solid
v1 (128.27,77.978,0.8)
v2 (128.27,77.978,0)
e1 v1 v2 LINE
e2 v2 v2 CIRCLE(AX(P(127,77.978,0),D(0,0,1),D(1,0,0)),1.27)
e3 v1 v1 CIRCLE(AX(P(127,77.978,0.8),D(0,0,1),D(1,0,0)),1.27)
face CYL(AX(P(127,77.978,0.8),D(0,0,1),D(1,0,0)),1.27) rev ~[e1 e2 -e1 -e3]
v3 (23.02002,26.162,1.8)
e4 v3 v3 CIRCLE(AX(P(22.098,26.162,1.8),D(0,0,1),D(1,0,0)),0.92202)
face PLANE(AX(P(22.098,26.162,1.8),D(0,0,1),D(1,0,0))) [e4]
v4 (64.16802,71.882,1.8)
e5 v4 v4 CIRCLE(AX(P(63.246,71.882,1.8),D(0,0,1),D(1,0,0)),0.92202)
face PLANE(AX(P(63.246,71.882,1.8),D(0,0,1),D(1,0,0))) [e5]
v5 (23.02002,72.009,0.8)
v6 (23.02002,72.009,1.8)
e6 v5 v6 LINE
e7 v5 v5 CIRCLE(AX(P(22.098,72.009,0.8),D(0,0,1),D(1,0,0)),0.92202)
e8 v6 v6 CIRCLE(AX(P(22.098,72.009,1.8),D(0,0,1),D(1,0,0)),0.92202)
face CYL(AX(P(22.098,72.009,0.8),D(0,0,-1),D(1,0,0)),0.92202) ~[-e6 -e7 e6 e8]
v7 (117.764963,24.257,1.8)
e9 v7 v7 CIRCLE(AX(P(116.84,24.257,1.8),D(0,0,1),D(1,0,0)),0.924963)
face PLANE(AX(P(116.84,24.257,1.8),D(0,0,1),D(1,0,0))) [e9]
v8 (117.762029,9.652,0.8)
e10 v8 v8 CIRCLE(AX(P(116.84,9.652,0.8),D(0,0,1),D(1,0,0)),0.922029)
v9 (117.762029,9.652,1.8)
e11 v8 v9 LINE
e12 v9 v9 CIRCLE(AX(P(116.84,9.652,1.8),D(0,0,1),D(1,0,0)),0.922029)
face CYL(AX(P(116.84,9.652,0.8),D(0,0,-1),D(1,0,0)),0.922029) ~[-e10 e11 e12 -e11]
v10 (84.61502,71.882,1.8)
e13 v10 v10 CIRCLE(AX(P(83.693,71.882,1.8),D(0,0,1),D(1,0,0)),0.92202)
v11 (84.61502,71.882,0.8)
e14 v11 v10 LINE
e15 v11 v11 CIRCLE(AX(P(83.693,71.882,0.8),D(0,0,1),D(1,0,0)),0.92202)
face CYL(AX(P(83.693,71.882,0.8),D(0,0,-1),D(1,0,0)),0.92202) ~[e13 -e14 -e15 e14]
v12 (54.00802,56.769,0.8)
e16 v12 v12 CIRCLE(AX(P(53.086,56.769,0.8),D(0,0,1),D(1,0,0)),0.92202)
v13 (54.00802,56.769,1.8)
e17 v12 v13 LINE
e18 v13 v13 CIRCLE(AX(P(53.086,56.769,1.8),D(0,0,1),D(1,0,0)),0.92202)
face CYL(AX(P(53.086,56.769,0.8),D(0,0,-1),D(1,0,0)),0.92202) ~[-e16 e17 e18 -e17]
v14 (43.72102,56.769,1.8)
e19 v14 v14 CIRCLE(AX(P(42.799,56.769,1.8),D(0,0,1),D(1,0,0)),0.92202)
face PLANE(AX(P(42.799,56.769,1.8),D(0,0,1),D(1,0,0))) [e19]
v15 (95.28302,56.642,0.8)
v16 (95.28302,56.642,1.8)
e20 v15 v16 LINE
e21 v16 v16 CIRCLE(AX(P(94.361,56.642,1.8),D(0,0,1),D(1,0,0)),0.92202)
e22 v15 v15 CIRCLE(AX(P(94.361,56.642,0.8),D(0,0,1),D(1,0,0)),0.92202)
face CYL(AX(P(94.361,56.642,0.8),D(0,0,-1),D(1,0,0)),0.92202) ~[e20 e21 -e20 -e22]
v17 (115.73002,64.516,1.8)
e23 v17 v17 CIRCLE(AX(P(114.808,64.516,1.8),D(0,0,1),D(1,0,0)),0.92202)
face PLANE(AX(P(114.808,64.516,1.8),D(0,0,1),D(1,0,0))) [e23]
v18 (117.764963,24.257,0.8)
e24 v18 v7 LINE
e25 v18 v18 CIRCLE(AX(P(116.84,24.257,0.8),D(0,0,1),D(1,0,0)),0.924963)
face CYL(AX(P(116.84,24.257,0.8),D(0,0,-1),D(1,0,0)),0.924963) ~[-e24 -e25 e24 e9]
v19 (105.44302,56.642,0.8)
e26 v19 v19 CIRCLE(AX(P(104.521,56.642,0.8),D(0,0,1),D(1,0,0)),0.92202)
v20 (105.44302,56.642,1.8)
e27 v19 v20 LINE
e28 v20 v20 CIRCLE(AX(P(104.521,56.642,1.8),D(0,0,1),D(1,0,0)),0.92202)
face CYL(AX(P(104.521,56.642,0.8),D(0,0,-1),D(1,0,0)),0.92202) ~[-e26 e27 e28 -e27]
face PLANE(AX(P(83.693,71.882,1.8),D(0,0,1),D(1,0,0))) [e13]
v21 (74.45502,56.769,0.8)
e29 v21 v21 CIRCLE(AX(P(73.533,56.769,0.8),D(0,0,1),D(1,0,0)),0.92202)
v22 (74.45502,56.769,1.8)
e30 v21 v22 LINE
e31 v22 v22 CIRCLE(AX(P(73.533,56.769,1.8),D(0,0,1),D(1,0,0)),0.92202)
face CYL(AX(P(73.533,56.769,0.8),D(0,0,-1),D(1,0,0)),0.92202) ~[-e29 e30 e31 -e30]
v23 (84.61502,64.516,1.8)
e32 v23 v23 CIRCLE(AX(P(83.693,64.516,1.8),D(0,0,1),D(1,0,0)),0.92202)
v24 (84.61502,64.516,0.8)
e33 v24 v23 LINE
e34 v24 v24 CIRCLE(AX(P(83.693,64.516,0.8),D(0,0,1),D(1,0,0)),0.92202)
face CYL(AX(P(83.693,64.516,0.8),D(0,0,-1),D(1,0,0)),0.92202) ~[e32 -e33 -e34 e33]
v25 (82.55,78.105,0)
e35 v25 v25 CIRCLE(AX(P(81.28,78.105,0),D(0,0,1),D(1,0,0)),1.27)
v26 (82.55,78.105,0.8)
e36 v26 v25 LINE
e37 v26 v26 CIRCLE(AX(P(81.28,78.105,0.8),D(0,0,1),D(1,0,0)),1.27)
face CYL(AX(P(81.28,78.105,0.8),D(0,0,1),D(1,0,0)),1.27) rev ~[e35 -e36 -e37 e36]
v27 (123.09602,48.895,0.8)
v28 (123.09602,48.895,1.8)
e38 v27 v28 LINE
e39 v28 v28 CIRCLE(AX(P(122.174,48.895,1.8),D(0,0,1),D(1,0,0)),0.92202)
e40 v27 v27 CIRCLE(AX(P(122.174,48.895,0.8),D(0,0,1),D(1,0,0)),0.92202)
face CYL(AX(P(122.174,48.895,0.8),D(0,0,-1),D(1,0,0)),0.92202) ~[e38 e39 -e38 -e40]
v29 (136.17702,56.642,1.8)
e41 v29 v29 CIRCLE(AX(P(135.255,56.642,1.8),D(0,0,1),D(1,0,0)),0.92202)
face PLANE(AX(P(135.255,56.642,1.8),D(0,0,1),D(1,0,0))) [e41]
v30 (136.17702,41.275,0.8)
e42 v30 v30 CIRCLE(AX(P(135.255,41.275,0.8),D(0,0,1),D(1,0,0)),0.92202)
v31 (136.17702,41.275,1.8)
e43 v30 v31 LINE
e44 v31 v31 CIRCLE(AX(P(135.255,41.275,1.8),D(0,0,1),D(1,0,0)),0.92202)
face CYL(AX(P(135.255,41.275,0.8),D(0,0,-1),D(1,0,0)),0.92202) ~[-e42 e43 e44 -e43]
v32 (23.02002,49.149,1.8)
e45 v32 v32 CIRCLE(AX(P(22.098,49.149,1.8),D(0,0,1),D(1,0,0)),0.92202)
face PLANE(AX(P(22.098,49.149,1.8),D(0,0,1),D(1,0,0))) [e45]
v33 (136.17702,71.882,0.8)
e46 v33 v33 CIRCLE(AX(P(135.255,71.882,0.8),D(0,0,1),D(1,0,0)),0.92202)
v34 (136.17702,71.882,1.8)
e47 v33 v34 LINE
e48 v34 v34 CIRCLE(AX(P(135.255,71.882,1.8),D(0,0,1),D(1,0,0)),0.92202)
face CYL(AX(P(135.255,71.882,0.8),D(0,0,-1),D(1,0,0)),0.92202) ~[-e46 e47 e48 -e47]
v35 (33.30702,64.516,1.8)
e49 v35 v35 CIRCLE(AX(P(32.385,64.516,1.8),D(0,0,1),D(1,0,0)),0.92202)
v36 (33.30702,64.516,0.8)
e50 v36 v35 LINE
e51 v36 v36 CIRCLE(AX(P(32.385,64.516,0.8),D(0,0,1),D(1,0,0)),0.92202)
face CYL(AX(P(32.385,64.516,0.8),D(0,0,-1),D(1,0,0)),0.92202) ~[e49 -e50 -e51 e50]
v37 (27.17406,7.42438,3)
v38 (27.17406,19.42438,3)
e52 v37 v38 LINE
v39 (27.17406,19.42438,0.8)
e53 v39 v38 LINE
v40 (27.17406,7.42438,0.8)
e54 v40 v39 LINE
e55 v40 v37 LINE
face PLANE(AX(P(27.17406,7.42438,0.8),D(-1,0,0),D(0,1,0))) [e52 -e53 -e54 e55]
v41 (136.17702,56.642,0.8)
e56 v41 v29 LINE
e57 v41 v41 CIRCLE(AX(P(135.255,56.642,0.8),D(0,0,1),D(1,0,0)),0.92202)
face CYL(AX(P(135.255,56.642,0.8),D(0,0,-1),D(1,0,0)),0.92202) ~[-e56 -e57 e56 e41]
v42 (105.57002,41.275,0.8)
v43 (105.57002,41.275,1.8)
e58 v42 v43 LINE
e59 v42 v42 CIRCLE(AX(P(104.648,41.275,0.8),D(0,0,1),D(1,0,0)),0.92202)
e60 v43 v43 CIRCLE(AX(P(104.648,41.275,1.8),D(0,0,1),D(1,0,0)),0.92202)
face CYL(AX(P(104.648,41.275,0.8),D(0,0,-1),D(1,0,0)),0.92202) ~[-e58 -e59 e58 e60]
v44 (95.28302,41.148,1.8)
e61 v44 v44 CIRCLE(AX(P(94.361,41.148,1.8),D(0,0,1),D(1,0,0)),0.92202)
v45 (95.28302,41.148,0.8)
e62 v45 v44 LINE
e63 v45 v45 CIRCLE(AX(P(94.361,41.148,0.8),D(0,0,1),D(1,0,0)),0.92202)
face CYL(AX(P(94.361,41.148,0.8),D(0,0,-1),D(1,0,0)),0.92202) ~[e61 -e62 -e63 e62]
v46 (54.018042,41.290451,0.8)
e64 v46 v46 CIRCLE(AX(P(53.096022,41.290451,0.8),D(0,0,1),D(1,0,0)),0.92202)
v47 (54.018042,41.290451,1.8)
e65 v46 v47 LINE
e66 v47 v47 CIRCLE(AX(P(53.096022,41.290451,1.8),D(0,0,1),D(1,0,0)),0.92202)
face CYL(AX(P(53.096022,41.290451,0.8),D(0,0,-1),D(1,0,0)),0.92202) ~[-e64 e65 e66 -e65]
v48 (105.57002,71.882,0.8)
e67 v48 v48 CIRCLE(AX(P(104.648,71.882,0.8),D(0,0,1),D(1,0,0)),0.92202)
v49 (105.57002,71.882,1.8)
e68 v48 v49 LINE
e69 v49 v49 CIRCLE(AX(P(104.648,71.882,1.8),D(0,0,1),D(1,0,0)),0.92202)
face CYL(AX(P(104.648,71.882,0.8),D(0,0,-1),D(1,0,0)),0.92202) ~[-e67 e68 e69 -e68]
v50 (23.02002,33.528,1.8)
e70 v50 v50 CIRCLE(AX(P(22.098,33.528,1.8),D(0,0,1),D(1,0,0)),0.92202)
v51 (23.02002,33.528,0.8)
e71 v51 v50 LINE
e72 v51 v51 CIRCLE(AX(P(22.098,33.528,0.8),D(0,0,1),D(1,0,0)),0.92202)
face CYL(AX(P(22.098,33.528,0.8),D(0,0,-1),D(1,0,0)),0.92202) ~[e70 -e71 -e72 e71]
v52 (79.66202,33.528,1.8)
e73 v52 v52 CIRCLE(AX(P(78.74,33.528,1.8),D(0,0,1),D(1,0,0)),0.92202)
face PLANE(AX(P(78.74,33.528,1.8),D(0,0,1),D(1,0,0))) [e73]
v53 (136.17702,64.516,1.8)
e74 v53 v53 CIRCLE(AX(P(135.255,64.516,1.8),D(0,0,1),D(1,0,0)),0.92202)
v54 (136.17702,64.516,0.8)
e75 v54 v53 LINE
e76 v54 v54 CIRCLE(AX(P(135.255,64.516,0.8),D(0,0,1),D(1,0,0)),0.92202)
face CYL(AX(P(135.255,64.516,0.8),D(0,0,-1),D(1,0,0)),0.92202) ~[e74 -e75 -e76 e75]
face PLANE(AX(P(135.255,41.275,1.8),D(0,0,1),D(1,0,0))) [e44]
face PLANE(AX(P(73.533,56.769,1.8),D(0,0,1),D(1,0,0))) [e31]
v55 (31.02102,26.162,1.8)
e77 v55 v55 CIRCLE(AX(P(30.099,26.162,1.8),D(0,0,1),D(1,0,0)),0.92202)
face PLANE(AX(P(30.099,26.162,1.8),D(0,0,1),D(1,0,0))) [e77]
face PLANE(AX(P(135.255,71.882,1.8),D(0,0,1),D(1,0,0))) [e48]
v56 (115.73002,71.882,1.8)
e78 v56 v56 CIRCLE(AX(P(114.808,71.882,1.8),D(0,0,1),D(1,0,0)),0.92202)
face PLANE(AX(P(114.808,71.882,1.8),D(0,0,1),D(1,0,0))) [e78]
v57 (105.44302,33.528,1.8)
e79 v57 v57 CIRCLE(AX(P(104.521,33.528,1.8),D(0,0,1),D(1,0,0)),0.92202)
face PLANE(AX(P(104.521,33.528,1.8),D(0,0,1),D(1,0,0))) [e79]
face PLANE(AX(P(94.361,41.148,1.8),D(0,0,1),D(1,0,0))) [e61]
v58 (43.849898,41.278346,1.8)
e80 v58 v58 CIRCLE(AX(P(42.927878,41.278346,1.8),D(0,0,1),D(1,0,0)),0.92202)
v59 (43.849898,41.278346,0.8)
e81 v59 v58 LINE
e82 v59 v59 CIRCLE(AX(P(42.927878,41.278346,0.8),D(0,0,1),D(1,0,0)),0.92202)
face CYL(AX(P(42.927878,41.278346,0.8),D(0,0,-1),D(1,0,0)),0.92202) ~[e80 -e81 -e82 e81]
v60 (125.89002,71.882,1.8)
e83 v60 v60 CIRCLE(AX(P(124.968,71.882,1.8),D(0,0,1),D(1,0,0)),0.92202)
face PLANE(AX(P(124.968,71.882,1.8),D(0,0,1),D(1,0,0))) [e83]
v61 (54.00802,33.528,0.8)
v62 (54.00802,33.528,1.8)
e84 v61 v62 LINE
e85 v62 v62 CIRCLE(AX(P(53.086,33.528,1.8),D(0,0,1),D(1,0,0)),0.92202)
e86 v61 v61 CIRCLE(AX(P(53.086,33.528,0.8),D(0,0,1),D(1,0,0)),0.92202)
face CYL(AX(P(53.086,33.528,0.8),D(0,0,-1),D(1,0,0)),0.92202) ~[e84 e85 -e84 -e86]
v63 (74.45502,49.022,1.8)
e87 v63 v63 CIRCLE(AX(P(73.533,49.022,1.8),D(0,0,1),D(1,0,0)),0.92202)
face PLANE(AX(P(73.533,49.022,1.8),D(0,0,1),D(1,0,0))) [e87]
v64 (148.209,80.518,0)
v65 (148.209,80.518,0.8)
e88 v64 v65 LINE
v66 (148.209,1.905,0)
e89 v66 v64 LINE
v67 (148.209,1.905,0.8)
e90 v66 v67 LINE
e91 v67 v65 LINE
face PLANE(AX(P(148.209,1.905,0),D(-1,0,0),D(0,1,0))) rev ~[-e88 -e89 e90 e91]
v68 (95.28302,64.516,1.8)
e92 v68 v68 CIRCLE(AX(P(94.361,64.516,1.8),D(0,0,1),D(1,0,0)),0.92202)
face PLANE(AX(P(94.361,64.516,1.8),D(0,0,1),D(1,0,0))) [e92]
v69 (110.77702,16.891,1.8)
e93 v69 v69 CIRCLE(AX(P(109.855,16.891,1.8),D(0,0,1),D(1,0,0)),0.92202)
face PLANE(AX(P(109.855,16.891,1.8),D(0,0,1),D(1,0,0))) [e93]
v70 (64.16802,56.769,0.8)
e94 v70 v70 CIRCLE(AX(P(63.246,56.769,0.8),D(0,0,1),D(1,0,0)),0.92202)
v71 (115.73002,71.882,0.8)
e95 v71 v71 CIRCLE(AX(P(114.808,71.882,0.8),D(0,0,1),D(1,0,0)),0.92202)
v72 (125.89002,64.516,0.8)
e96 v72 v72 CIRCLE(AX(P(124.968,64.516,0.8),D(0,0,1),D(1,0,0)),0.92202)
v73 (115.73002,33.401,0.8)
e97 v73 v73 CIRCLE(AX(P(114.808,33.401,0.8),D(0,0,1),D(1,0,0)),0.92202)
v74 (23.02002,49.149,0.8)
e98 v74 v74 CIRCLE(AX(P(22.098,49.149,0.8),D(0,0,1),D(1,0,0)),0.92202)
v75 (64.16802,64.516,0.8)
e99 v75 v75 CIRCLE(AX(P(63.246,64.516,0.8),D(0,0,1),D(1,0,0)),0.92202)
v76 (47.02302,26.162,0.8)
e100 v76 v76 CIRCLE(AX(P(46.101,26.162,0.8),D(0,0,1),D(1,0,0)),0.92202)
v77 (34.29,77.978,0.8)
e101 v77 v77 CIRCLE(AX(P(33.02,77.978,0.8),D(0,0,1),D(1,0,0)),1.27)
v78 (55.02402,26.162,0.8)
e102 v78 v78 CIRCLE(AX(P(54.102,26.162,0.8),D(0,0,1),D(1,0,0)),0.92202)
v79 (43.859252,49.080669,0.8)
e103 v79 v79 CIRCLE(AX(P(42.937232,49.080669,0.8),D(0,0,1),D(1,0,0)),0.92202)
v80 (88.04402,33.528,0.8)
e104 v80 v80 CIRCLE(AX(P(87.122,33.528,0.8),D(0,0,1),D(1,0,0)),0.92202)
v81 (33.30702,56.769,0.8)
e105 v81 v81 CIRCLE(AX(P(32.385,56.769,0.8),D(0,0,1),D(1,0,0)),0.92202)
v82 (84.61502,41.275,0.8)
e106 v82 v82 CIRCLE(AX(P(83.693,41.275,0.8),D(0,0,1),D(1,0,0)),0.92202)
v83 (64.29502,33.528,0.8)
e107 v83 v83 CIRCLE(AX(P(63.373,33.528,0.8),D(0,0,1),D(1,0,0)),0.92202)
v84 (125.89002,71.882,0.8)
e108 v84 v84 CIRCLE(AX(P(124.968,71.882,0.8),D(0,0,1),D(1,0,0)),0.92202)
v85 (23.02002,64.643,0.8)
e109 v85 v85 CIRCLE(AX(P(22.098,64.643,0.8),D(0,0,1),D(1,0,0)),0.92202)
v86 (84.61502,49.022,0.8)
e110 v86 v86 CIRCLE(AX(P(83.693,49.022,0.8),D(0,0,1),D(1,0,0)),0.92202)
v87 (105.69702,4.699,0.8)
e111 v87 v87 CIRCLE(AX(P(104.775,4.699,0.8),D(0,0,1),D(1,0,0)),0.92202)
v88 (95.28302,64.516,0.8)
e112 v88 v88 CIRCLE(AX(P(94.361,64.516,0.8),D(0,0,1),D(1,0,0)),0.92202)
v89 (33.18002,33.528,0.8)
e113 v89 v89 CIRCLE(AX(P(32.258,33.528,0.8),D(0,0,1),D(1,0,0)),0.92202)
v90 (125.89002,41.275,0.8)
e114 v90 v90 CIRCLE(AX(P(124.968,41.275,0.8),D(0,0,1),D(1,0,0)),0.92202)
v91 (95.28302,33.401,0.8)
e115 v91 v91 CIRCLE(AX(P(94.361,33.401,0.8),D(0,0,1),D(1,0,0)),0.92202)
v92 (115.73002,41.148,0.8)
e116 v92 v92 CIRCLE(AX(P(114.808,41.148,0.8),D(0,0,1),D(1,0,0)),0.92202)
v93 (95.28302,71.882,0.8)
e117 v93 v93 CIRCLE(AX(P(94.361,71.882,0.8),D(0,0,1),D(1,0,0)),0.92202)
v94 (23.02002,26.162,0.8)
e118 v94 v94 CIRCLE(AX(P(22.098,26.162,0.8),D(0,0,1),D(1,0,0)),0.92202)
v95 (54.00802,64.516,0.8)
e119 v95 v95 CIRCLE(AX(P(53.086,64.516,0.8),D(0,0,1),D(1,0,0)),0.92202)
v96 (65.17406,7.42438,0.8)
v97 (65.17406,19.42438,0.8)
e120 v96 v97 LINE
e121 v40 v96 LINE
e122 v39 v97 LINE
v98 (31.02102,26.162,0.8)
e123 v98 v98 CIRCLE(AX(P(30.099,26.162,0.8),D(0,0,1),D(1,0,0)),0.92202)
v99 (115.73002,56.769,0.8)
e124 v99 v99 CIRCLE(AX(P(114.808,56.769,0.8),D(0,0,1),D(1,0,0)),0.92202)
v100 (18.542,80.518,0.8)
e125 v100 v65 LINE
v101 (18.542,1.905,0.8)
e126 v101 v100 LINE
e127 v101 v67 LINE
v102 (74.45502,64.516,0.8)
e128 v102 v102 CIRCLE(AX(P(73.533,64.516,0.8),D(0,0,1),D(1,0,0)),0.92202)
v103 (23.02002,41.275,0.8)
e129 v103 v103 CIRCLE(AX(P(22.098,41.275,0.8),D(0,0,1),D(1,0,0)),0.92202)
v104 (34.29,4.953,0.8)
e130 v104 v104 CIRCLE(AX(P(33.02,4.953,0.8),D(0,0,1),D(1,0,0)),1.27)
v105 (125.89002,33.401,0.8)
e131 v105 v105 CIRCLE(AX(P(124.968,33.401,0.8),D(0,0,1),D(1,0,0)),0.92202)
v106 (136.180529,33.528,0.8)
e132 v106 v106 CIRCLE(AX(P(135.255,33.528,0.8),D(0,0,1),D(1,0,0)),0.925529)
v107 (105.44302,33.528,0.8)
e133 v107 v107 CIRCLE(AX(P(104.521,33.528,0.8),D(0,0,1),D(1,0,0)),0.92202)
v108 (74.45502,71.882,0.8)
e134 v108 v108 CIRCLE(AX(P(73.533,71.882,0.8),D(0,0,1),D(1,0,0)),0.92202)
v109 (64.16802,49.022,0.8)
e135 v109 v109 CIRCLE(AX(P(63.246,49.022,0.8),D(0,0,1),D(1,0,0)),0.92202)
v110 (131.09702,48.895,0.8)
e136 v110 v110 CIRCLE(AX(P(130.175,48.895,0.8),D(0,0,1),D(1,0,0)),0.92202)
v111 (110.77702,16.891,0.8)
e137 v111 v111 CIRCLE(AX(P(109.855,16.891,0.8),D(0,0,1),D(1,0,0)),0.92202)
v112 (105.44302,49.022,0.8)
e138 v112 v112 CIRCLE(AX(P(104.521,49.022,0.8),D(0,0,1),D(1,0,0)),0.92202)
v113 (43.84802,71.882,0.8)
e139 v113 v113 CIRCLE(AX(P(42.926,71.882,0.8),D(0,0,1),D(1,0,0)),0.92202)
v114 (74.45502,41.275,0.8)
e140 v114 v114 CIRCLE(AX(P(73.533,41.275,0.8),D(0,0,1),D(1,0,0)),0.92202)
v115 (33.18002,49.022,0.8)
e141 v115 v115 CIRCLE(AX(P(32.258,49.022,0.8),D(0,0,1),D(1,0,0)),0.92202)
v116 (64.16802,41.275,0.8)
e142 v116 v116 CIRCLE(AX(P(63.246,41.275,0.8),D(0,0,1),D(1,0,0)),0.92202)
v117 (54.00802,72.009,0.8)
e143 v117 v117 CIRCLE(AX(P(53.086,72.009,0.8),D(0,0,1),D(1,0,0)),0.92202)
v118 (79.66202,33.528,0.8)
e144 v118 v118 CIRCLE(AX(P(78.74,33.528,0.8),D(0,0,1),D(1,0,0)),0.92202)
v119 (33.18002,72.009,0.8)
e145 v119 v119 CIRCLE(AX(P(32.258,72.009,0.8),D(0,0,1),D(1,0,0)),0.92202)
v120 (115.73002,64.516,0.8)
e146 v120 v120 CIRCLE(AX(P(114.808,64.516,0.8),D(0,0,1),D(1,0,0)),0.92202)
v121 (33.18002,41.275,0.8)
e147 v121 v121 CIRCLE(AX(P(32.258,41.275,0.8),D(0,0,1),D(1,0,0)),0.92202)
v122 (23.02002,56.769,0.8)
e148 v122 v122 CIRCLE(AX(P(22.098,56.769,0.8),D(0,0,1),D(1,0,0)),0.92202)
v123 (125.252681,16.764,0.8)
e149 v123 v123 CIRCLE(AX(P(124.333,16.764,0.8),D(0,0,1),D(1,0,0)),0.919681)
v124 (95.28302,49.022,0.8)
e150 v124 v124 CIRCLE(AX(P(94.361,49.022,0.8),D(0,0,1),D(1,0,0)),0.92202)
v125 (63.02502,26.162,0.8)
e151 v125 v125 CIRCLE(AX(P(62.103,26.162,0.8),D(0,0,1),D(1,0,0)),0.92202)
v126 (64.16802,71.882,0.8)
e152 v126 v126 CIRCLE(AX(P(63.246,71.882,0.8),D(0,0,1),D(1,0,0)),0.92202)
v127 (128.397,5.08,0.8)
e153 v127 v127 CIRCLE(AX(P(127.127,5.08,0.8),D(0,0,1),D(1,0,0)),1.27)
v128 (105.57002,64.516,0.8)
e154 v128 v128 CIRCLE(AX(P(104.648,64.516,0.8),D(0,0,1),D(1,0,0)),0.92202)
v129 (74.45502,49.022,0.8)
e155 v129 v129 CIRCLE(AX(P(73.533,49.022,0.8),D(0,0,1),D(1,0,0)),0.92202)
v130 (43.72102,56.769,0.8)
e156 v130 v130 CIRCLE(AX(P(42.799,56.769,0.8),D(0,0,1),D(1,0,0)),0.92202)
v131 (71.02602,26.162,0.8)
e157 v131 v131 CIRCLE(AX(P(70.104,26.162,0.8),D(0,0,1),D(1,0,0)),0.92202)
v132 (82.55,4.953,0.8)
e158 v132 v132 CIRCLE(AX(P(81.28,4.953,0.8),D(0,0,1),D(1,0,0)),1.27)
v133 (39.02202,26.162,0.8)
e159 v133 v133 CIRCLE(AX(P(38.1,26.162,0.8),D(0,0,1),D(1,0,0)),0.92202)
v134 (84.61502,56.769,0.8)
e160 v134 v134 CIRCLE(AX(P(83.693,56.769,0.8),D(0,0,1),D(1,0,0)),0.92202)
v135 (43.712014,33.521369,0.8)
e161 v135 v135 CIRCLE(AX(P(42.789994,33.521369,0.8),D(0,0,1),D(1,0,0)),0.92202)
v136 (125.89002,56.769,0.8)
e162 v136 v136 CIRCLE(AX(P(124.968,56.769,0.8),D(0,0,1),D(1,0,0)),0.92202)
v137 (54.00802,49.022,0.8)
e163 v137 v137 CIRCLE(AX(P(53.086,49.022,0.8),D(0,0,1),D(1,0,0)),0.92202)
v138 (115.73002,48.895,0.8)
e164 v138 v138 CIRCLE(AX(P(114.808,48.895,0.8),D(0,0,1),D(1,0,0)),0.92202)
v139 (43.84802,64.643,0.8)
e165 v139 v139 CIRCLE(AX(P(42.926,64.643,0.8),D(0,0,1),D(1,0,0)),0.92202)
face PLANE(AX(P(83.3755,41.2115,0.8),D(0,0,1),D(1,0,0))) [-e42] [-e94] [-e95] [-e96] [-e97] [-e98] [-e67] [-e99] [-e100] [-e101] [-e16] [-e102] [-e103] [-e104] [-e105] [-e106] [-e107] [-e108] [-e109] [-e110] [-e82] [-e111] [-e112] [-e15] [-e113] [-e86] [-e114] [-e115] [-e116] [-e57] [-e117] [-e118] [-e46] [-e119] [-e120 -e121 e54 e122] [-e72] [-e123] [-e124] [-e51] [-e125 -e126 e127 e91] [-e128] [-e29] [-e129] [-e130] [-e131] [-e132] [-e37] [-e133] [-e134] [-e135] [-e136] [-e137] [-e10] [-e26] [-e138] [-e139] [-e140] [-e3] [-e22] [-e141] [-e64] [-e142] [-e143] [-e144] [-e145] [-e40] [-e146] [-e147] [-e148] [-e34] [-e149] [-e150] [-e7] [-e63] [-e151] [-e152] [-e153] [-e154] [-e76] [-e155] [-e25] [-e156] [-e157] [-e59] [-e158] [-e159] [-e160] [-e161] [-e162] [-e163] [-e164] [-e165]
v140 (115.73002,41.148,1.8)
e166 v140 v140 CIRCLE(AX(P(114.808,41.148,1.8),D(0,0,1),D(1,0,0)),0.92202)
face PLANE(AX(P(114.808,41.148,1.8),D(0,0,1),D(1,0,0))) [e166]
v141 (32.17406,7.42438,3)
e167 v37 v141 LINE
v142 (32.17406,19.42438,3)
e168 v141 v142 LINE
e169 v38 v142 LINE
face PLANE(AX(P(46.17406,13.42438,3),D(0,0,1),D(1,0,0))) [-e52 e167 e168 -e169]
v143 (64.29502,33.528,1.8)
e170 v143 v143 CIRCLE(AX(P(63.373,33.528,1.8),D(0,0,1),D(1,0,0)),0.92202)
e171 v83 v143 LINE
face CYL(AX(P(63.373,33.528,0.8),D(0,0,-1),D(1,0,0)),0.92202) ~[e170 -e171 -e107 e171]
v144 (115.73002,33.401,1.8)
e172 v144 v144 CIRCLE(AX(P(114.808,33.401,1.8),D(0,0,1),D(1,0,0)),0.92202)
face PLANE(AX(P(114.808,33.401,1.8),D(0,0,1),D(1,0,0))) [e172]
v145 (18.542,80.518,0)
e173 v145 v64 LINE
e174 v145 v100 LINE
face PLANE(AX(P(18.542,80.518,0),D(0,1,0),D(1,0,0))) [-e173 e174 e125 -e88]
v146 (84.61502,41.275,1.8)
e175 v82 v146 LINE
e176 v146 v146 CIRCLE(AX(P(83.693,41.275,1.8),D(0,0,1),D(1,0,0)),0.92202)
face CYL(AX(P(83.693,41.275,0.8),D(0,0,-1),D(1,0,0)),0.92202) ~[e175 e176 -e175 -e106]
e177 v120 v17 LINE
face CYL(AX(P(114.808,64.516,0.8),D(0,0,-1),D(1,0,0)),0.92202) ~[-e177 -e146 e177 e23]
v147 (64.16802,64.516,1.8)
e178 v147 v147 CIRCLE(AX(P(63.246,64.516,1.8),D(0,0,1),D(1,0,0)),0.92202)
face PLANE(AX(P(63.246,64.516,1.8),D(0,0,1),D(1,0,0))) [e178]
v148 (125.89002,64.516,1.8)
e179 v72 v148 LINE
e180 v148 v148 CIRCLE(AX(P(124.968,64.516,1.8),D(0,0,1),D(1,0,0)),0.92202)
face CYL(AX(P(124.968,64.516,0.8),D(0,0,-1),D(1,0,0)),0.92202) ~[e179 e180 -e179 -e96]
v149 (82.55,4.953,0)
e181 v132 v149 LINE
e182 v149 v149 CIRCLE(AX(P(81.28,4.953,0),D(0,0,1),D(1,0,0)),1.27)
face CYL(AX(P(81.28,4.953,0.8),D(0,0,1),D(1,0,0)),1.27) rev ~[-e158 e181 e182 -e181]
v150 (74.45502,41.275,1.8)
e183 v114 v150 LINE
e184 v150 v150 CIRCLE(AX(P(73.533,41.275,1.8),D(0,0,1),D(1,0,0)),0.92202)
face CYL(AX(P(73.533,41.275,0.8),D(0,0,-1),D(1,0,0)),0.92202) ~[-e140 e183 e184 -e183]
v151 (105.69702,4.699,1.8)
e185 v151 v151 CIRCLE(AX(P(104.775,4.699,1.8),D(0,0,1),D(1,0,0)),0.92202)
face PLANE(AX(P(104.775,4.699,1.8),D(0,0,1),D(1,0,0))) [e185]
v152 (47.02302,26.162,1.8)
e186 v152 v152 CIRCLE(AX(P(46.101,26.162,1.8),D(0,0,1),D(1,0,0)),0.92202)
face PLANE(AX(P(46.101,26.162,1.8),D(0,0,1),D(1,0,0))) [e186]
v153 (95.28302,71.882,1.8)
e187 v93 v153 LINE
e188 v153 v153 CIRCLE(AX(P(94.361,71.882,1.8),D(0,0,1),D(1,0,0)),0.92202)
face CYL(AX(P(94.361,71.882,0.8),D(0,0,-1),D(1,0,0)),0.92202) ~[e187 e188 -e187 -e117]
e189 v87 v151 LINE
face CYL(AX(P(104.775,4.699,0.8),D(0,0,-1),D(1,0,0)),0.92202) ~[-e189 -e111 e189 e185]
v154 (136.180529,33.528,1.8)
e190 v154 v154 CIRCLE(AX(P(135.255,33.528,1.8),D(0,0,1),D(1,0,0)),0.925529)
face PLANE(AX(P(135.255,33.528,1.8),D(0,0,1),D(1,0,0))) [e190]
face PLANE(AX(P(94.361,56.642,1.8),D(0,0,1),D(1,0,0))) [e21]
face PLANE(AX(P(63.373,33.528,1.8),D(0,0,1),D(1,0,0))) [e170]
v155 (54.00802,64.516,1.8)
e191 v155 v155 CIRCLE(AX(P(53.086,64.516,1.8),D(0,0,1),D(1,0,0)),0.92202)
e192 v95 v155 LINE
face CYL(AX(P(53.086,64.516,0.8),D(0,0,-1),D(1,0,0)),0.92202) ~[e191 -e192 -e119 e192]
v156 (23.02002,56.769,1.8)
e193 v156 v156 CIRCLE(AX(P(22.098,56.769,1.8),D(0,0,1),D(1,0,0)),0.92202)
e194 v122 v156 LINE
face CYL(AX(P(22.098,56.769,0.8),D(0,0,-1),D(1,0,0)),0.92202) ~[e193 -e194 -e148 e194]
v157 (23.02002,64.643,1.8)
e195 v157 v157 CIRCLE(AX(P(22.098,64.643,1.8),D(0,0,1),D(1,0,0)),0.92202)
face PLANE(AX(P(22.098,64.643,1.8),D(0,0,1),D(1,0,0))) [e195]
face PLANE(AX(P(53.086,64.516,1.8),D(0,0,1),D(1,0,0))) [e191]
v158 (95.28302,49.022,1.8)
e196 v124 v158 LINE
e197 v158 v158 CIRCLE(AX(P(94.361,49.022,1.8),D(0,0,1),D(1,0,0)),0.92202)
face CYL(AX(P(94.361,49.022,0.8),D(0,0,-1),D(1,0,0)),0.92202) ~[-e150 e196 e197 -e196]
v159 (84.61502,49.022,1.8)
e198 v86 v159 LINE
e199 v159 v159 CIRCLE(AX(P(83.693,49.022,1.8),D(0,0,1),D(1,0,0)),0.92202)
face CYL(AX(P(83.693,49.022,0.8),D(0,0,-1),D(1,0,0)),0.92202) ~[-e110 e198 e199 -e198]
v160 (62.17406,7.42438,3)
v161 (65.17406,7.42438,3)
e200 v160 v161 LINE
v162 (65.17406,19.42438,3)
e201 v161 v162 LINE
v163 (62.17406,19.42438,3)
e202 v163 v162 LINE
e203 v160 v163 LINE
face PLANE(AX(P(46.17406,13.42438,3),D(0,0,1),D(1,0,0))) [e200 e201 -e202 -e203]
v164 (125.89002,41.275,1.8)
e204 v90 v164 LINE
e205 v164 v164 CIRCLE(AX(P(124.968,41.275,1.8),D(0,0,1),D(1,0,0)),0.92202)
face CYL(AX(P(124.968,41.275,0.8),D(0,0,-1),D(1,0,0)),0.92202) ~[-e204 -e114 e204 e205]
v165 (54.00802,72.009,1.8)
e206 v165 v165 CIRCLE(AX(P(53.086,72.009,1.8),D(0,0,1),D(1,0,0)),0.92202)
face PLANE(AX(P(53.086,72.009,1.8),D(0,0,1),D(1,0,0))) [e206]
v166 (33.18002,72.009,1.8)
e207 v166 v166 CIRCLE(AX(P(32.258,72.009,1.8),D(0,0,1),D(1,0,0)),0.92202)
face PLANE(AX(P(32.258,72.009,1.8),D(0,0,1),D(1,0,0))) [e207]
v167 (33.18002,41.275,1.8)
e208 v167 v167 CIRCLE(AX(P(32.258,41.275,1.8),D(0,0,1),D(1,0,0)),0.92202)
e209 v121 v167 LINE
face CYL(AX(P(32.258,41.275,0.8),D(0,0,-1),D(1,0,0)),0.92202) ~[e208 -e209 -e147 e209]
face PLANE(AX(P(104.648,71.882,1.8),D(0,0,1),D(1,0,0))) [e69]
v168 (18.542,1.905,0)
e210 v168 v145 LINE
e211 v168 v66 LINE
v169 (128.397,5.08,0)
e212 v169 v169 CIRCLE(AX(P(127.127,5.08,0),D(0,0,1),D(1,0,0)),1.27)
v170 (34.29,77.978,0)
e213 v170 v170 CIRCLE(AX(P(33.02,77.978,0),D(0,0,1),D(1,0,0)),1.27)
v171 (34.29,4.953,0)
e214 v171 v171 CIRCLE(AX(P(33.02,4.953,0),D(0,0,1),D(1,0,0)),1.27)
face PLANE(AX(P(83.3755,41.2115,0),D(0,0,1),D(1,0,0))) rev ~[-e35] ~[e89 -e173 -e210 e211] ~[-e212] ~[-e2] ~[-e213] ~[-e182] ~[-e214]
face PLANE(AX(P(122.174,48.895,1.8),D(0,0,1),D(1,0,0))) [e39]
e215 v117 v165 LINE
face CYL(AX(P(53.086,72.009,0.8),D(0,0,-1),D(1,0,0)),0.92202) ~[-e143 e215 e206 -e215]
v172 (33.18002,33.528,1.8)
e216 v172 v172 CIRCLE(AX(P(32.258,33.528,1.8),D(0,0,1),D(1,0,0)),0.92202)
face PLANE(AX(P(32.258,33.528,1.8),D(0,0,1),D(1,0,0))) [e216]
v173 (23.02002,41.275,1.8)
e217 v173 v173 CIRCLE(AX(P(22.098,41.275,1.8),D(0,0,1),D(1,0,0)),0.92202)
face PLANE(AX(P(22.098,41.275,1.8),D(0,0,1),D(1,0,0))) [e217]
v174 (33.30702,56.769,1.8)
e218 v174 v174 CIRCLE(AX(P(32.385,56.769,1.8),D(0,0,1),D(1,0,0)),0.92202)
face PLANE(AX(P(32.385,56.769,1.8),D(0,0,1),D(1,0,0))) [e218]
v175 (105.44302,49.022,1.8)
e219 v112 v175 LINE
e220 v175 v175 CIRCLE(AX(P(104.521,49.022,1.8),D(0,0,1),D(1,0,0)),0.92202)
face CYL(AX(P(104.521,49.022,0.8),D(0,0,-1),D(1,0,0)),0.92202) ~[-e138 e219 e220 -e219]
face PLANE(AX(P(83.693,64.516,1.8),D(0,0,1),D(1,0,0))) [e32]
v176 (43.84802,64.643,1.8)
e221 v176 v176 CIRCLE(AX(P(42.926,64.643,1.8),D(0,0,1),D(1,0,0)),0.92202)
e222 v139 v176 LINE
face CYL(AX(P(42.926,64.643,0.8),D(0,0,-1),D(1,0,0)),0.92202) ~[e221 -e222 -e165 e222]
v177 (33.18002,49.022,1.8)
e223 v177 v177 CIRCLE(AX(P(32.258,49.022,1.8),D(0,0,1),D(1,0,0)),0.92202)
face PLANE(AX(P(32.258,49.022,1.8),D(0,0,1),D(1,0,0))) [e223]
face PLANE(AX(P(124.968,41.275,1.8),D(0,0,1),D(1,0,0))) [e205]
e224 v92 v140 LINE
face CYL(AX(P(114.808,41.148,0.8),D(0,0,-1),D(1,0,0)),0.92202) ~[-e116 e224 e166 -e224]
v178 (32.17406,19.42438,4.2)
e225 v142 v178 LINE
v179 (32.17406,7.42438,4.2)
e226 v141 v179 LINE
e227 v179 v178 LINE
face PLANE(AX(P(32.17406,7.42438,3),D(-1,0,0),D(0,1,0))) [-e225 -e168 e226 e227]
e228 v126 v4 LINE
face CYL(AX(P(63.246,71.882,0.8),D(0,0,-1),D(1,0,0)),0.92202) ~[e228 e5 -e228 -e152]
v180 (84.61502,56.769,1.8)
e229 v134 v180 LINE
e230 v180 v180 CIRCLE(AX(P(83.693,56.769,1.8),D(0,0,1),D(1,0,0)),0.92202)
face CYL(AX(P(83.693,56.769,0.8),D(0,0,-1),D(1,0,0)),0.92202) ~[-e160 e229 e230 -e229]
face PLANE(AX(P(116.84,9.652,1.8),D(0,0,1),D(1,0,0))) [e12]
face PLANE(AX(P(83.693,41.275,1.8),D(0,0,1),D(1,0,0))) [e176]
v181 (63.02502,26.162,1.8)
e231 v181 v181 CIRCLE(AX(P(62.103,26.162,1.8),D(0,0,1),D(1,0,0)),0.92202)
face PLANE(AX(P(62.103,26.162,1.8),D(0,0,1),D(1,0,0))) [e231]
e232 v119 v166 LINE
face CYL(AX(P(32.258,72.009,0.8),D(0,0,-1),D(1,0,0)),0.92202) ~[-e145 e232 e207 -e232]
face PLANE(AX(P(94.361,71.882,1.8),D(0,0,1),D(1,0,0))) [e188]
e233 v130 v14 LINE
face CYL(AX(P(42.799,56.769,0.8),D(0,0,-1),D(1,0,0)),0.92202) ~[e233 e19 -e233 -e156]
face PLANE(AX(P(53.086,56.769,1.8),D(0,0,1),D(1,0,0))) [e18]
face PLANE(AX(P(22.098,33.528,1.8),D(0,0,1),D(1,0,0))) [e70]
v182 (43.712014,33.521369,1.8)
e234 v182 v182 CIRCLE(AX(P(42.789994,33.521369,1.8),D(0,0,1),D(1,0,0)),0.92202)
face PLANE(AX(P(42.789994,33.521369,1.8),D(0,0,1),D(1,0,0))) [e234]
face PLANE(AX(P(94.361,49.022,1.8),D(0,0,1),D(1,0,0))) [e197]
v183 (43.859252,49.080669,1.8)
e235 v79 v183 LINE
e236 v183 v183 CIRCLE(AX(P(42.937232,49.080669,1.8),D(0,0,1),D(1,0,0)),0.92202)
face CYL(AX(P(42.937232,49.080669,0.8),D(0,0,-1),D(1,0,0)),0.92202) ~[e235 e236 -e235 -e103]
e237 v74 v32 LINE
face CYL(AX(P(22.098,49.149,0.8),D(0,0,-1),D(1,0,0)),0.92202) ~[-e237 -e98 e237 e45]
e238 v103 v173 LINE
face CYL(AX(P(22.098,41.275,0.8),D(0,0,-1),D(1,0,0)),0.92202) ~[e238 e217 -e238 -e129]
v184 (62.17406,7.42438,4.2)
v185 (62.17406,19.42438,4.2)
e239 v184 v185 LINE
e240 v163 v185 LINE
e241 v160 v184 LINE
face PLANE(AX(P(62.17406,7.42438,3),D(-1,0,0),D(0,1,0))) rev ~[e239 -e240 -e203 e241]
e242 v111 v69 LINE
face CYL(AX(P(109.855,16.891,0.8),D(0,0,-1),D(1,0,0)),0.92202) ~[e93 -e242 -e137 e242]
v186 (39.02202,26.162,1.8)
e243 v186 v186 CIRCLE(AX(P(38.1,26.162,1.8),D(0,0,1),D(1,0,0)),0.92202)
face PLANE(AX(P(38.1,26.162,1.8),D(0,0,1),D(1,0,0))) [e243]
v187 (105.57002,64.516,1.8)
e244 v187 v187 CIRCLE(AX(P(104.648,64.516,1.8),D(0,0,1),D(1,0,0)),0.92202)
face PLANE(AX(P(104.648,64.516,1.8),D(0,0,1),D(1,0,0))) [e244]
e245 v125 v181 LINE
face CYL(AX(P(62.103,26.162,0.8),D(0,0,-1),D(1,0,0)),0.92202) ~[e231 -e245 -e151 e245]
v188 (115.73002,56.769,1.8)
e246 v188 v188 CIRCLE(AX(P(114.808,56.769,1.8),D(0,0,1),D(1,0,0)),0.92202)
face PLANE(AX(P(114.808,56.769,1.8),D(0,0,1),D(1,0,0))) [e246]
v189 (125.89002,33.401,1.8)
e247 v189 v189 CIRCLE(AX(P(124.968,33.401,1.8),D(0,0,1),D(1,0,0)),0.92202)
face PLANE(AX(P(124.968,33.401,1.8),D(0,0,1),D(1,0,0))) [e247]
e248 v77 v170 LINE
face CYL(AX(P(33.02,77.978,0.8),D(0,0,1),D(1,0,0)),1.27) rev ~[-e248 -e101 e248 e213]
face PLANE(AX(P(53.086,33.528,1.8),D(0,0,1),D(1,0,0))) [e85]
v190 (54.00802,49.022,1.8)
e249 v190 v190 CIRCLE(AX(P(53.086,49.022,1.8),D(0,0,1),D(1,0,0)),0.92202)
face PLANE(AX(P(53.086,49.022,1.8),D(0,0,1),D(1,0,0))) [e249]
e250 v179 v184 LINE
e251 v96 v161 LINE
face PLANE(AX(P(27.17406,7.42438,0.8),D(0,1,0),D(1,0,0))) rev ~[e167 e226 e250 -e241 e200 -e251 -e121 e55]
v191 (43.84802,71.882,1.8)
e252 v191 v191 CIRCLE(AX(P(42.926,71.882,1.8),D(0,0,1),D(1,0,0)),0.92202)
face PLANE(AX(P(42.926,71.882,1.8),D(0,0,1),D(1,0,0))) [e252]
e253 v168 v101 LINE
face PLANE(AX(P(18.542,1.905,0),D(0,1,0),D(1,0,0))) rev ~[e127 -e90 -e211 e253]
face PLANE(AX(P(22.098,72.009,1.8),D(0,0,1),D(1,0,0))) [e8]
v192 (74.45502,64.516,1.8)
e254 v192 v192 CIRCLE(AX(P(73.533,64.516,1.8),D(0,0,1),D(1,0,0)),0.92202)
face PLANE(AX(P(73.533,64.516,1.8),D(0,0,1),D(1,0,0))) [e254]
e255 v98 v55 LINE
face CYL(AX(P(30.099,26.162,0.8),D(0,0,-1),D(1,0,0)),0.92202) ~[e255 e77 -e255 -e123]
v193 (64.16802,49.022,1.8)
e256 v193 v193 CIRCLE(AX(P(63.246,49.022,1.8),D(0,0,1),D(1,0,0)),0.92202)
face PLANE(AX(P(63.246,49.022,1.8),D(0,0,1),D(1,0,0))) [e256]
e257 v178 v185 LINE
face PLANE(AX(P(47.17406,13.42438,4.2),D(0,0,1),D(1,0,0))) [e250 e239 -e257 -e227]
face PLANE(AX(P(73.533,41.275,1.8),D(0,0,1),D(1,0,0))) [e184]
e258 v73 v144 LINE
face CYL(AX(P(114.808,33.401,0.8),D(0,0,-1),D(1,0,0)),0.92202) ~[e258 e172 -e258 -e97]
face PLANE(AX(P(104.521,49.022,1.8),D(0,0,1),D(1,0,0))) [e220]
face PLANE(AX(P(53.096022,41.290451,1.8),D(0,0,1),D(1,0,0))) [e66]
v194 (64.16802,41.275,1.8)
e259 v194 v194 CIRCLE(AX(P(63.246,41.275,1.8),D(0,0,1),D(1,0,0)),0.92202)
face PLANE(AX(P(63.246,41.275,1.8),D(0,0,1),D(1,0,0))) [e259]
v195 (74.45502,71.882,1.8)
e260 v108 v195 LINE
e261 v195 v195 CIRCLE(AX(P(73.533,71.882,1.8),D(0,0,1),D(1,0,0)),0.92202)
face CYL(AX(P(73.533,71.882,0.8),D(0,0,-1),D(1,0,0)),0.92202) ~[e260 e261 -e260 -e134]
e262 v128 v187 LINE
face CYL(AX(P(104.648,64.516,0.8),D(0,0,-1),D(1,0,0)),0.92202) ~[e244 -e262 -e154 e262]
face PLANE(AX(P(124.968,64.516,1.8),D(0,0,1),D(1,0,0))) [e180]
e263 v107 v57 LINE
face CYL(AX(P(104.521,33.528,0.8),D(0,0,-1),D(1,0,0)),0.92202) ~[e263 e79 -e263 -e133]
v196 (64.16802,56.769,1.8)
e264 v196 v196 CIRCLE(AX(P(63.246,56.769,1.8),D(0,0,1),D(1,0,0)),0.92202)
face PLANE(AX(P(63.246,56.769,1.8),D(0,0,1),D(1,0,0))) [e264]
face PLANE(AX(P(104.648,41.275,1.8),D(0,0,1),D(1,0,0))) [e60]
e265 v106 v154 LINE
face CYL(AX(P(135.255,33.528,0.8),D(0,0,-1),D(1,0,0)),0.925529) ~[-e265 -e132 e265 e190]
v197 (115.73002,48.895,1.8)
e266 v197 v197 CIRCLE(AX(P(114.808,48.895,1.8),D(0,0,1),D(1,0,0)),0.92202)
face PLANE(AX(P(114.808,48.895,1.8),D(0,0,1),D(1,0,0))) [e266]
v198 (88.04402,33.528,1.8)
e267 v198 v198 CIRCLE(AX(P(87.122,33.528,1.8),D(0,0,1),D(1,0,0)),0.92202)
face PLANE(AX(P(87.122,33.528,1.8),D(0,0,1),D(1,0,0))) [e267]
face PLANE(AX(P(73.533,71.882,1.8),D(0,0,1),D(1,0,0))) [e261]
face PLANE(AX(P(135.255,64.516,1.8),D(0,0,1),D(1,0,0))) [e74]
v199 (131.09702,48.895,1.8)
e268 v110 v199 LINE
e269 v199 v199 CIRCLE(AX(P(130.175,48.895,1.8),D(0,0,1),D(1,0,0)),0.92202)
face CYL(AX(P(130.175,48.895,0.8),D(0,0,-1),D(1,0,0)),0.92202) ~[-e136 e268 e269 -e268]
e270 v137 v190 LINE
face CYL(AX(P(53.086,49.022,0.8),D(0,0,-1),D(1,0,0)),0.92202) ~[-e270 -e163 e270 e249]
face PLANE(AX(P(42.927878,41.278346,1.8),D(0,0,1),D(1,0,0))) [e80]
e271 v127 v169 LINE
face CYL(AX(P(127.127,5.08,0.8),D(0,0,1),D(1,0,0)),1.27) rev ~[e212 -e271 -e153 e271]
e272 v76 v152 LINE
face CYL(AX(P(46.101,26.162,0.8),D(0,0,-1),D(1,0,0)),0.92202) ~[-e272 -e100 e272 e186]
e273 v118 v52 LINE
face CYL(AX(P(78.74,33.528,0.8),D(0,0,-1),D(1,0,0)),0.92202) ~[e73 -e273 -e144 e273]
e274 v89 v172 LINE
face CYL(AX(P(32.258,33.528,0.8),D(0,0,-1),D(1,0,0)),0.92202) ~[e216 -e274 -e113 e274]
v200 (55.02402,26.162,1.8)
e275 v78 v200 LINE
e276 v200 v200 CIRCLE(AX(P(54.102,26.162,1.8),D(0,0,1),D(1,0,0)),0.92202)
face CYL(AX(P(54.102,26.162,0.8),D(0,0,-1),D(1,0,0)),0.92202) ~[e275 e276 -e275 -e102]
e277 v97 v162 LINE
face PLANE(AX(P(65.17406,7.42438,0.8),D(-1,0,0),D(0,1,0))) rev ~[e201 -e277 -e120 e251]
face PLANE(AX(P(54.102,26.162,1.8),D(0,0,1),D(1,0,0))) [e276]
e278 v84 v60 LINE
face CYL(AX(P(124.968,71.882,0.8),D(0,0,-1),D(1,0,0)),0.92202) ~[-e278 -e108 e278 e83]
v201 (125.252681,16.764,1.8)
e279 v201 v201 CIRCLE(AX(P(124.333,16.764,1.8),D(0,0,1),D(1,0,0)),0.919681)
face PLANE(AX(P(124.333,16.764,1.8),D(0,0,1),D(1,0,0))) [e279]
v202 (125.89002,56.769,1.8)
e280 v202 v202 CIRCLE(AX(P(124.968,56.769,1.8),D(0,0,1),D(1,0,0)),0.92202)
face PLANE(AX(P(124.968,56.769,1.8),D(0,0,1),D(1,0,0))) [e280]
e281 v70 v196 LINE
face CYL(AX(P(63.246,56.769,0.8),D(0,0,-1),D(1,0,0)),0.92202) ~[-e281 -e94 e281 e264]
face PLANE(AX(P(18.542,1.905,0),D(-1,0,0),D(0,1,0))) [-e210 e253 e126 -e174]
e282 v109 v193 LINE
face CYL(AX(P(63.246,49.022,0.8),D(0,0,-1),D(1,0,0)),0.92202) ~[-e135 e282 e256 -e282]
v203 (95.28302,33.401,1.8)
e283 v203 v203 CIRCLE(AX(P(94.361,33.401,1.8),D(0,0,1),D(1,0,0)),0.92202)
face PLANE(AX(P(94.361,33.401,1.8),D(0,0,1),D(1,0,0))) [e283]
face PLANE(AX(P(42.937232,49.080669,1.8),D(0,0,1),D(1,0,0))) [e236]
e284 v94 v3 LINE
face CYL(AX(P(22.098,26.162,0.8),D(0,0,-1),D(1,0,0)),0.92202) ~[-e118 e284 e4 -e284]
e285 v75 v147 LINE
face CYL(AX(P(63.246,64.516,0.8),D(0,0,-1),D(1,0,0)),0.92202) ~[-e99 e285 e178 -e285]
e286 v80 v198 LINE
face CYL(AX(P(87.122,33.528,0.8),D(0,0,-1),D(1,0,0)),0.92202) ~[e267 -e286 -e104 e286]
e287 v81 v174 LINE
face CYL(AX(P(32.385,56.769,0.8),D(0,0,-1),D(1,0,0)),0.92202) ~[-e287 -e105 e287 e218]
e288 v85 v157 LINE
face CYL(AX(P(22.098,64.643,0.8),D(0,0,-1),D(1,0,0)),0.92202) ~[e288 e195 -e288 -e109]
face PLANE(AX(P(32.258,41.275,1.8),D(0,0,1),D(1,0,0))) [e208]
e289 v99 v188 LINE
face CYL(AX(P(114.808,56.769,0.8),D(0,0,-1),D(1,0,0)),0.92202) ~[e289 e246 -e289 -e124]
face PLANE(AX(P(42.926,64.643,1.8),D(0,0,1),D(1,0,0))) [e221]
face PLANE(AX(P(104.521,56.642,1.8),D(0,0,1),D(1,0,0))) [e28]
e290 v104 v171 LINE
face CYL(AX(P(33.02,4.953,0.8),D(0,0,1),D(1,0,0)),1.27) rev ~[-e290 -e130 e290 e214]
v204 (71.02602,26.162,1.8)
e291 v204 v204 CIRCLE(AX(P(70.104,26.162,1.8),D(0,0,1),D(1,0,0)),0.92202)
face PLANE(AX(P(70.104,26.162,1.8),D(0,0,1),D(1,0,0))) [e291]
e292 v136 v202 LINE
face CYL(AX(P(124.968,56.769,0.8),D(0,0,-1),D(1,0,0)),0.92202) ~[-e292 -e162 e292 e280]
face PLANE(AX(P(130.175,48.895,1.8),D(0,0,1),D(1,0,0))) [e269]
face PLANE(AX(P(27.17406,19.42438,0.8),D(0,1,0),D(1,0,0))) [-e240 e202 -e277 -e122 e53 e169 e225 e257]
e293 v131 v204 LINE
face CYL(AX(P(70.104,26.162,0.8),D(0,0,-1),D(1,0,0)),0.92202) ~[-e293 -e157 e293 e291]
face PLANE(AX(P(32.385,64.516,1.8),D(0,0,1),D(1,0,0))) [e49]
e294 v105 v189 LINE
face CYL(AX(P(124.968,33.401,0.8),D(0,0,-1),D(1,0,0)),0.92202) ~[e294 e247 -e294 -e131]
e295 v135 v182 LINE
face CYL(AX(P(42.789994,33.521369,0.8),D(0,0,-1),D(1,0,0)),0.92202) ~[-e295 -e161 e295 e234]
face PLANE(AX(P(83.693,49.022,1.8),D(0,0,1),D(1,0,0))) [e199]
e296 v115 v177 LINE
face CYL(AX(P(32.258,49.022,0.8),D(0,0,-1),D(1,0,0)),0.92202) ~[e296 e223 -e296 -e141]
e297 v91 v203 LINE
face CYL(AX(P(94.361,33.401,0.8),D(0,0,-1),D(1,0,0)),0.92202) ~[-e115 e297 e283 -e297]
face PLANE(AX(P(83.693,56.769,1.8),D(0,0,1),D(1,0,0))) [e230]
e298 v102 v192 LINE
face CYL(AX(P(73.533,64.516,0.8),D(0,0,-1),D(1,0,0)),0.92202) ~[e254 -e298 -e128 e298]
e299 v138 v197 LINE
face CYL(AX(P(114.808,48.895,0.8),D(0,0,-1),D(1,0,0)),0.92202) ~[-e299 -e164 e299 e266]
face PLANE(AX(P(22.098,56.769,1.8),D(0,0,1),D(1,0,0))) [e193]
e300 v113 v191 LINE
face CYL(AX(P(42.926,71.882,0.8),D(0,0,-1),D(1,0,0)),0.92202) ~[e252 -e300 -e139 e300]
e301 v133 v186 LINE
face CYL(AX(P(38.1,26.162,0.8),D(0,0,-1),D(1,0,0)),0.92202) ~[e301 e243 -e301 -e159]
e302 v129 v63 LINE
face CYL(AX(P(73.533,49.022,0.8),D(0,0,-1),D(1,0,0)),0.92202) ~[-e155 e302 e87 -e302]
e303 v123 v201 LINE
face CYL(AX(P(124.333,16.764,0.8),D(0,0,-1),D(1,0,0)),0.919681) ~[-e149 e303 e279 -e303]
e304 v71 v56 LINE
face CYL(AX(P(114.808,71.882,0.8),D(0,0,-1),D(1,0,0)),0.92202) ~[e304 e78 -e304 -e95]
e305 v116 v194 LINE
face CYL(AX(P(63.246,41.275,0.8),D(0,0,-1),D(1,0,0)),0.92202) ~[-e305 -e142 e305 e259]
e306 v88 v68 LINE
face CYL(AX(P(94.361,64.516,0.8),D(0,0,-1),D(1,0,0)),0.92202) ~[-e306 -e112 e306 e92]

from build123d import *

# Parameters (mm, degrees)
SKETCH_2_W          = 129.667
SKETCH_2_H          = 78.613
EXTRUDE_1_DEPTH     = 0.8
SKETCH_3_R          = 1.27
CUT_EXTRUDE_1_DEPTH = 12.54
SKETCH_4_R          = 0.92202
SKETCH_4_R_2        = 0.922029104
SKETCH_4_R_3        = 0.919681264
SKETCH_4_R_4        = 0.924963229
SKETCH_4_R_5        = 0.92552898
EXTRUDE_2_DEPTH     = 1
SKETCH_5_W          = 38
SKETCH_5_H          = 12
EXTRUDE_3_DEPTH     = 2.2
SKETCH_6_W          = 30
SKETCH_6_H          = 12
EXTRUDE_4_DEPTH     = 1.2


with BuildPart() as part:
    # 草图2 → 凸台-拉伸1 (new body)
    with BuildSketch(Plane.XY):
        with Locations((83.3755, 41.2115)):
            Rectangle(SKETCH_2_W, SKETCH_2_H)
    extrude(amount=EXTRUDE_1_DEPTH)

    # 草图3 → 切除-拉伸1 (cut)
    with BuildSketch(Plane.XY.offset(0.8)):
        with Locations((33.02, 77.978)):
            Circle(SKETCH_3_R)
        with Locations((81.28, 78.105)):
            Circle(SKETCH_3_R)
        with Locations((127, 77.978)):
            Circle(SKETCH_3_R)
        with Locations((33.02, 4.953)):
            Circle(SKETCH_3_R)
        with Locations((81.28, 4.953)):
            Circle(SKETCH_3_R)
        with Locations((127.127, 5.08)):
            Circle(SKETCH_3_R)
    extrude(amount=-CUT_EXTRUDE_1_DEPTH, mode=Mode.SUBTRACT)

    # 草图4 → 凸台-拉伸2 (add)
    with BuildSketch(Plane.XY.offset(0.8)):
        with Locations((22.098, 72.009)):
            Circle(SKETCH_4_R)
        with Locations((22.098, 64.643)):
            Circle(SKETCH_4_R)
        with Locations((22.098, 56.769)):
            Circle(SKETCH_4_R)
        with Locations((22.098, 49.149)):
            Circle(SKETCH_4_R)
        with Locations((22.098, 26.162)):
            Circle(SKETCH_4_R)
        with Locations((22.098, 33.528)):
            Circle(SKETCH_4_R)
        with Locations((22.098, 41.275)):
            Circle(SKETCH_4_R)
        with Locations((32.258, 72.009)):
            Circle(SKETCH_4_R)
        with Locations((42.926, 71.882)):
            Circle(SKETCH_4_R)
        with Locations((53.086, 72.009)):
            Circle(SKETCH_4_R)
        with Locations((63.246, 71.882)):
            Circle(SKETCH_4_R)
        with Locations((73.533, 71.882)):
            Circle(SKETCH_4_R)
        with Locations((83.693, 71.882)):
            Circle(SKETCH_4_R)
        with Locations((94.361, 71.882)):
            Circle(SKETCH_4_R)
        with Locations((104.648, 71.882)):
            Circle(SKETCH_4_R)
        with Locations((114.808, 71.882)):
            Circle(SKETCH_4_R)
        with Locations((124.968, 71.882)):
            Circle(SKETCH_4_R)
        with Locations((135.255, 71.882)):
            Circle(SKETCH_4_R)
        with Locations((32.385, 64.516)):
            Circle(SKETCH_4_R)
        with Locations((32.385, 56.769)):
            Circle(SKETCH_4_R)
        with Locations((32.258, 49.022)):
            Circle(SKETCH_4_R)
        with Locations((32.258, 33.528)):
            Circle(SKETCH_4_R)
        with Locations((32.258, 41.275)):
            Circle(SKETCH_4_R)
        with Locations((54.102, 26.162)):
            Circle(SKETCH_4_R)
        with Locations((30.099, 26.162)):
            Circle(SKETCH_4_R)
        with Locations((38.1, 26.162)):
            Circle(SKETCH_4_R)
        with Locations((46.101, 26.162)):
            Circle(SKETCH_4_R)
        with Locations((42.926, 64.643)):
            Circle(SKETCH_4_R)
        with Locations((42.799, 56.769)):
            Circle(SKETCH_4_R)
        with Locations((53.086, 64.516)):
            Circle(SKETCH_4_R)
        with Locations((63.246, 64.516)):
            Circle(SKETCH_4_R)
        with Locations((53.086, 56.769)):
            Circle(SKETCH_4_R)
        with Locations((63.246, 56.769)):
            Circle(SKETCH_4_R)
        with Locations((42.937232377, 49.080669284)):
            Circle(SKETCH_4_R)
        with Locations((53.086, 49.022)):
            Circle(SKETCH_4_R)
        with Locations((63.246, 49.022)):
            Circle(SKETCH_4_R)
        with Locations((42.927878215, 41.278345649)):
            Circle(SKETCH_4_R)
        with Locations((42.78999374, 33.521368778)):
            Circle(SKETCH_4_R)
        with Locations((53.086, 33.528)):
            Circle(SKETCH_4_R)
        with Locations((53.096022403, 41.290450758)):
            Circle(SKETCH_4_R)
        with Locations((104.775, 4.699)):
            Circle(SKETCH_4_R)
        with Locations((116.84, 9.652)):
            Circle(SKETCH_4_R_2)
        with Locations((109.855, 16.891)):
            Circle(SKETCH_4_R)
        with Locations((124.333, 16.764)):
            Circle(SKETCH_4_R_3)
        with Locations((116.84, 24.257)):
            Circle(SKETCH_4_R_4)
        with Locations((135.255, 33.528)):
            Circle(SKETCH_4_R_5)
        with Locations((135.255, 41.275)):
            Circle(SKETCH_4_R)
        with Locations((124.968, 33.401)):
            Circle(SKETCH_4_R)
        with Locations((124.968, 41.275)):
            Circle(SKETCH_4_R)
        with Locations((114.808, 33.401)):
            Circle(SKETCH_4_R)
        with Locations((114.808, 41.148)):
            Circle(SKETCH_4_R)
        with Locations((130.175, 48.895)):
            Circle(SKETCH_4_R)
        with Locations((122.174, 48.895)):
            Circle(SKETCH_4_R)
        with Locations((114.808, 48.895)):
            Circle(SKETCH_4_R)
        with Locations((124.968, 56.769)):
            Circle(SKETCH_4_R)
        with Locations((114.808, 56.769)):
            Circle(SKETCH_4_R)
        with Locations((114.808, 64.516)):
            Circle(SKETCH_4_R)
        with Locations((124.968, 64.516)):
            Circle(SKETCH_4_R)
        with Locations((135.255, 64.516)):
            Circle(SKETCH_4_R)
        with Locations((62.103, 26.162)):
            Circle(SKETCH_4_R)
        with Locations((70.104, 26.162)):
            Circle(SKETCH_4_R)
        with Locations((63.373, 33.528)):
            Circle(SKETCH_4_R)
        with Locations((78.74, 33.528)):
            Circle(SKETCH_4_R)
        with Locations((87.122, 33.528)):
            Circle(SKETCH_4_R)
        with Locations((104.521, 33.528)):
            Circle(SKETCH_4_R)
        with Locations((94.361, 33.401)):
            Circle(SKETCH_4_R)
        with Locations((73.533, 41.275)):
            Circle(SKETCH_4_R)
        with Locations((63.246, 41.275)):
            Circle(SKETCH_4_R)
        with Locations((83.693, 41.275)):
            Circle(SKETCH_4_R)
        with Locations((104.648, 41.275)):
            Circle(SKETCH_4_R)
        with Locations((94.361, 41.148)):
            Circle(SKETCH_4_R)
        with Locations((73.533, 49.022)):
            Circle(SKETCH_4_R)
        with Locations((83.693, 49.022)):
            Circle(SKETCH_4_R)
        with Locations((94.361, 49.022)):
            Circle(SKETCH_4_R)
        with Locations((104.521, 49.022)):
            Circle(SKETCH_4_R)
        with Locations((73.533, 64.516)):
            Circle(SKETCH_4_R)
        with Locations((73.533, 56.769)):
            Circle(SKETCH_4_R)
        with Locations((83.693, 64.516)):
            Circle(SKETCH_4_R)
        with Locations((83.693, 56.769)):
            Circle(SKETCH_4_R)
        with Locations((94.361, 64.516)):
            Circle(SKETCH_4_R)
        with Locations((94.361, 56.642)):
            Circle(SKETCH_4_R)
        with Locations((104.521, 56.642)):
            Circle(SKETCH_4_R)
        with Locations((104.648, 64.516)):
            Circle(SKETCH_4_R)
        with Locations((135.255, 56.642)):
            Circle(SKETCH_4_R)
    extrude(amount=EXTRUDE_2_DEPTH)

    # 草图5 → 凸台-拉伸3 (add)
    with BuildSketch(Plane.XY.offset(0.8)):
        with Locations((46.17406, 13.42438)):
            Rectangle(SKETCH_5_W, SKETCH_5_H)
    extrude(amount=EXTRUDE_3_DEPTH)

    # 草图6 → 凸台-拉伸4 (add)
    with BuildSketch(Plane.XY.offset(3)):
        with Locations((47.17406, 13.42438)):
            Rectangle(SKETCH_6_W, SKETCH_6_H)
    extrude(amount=EXTRUDE_4_DEPTH)


solid = part.part
